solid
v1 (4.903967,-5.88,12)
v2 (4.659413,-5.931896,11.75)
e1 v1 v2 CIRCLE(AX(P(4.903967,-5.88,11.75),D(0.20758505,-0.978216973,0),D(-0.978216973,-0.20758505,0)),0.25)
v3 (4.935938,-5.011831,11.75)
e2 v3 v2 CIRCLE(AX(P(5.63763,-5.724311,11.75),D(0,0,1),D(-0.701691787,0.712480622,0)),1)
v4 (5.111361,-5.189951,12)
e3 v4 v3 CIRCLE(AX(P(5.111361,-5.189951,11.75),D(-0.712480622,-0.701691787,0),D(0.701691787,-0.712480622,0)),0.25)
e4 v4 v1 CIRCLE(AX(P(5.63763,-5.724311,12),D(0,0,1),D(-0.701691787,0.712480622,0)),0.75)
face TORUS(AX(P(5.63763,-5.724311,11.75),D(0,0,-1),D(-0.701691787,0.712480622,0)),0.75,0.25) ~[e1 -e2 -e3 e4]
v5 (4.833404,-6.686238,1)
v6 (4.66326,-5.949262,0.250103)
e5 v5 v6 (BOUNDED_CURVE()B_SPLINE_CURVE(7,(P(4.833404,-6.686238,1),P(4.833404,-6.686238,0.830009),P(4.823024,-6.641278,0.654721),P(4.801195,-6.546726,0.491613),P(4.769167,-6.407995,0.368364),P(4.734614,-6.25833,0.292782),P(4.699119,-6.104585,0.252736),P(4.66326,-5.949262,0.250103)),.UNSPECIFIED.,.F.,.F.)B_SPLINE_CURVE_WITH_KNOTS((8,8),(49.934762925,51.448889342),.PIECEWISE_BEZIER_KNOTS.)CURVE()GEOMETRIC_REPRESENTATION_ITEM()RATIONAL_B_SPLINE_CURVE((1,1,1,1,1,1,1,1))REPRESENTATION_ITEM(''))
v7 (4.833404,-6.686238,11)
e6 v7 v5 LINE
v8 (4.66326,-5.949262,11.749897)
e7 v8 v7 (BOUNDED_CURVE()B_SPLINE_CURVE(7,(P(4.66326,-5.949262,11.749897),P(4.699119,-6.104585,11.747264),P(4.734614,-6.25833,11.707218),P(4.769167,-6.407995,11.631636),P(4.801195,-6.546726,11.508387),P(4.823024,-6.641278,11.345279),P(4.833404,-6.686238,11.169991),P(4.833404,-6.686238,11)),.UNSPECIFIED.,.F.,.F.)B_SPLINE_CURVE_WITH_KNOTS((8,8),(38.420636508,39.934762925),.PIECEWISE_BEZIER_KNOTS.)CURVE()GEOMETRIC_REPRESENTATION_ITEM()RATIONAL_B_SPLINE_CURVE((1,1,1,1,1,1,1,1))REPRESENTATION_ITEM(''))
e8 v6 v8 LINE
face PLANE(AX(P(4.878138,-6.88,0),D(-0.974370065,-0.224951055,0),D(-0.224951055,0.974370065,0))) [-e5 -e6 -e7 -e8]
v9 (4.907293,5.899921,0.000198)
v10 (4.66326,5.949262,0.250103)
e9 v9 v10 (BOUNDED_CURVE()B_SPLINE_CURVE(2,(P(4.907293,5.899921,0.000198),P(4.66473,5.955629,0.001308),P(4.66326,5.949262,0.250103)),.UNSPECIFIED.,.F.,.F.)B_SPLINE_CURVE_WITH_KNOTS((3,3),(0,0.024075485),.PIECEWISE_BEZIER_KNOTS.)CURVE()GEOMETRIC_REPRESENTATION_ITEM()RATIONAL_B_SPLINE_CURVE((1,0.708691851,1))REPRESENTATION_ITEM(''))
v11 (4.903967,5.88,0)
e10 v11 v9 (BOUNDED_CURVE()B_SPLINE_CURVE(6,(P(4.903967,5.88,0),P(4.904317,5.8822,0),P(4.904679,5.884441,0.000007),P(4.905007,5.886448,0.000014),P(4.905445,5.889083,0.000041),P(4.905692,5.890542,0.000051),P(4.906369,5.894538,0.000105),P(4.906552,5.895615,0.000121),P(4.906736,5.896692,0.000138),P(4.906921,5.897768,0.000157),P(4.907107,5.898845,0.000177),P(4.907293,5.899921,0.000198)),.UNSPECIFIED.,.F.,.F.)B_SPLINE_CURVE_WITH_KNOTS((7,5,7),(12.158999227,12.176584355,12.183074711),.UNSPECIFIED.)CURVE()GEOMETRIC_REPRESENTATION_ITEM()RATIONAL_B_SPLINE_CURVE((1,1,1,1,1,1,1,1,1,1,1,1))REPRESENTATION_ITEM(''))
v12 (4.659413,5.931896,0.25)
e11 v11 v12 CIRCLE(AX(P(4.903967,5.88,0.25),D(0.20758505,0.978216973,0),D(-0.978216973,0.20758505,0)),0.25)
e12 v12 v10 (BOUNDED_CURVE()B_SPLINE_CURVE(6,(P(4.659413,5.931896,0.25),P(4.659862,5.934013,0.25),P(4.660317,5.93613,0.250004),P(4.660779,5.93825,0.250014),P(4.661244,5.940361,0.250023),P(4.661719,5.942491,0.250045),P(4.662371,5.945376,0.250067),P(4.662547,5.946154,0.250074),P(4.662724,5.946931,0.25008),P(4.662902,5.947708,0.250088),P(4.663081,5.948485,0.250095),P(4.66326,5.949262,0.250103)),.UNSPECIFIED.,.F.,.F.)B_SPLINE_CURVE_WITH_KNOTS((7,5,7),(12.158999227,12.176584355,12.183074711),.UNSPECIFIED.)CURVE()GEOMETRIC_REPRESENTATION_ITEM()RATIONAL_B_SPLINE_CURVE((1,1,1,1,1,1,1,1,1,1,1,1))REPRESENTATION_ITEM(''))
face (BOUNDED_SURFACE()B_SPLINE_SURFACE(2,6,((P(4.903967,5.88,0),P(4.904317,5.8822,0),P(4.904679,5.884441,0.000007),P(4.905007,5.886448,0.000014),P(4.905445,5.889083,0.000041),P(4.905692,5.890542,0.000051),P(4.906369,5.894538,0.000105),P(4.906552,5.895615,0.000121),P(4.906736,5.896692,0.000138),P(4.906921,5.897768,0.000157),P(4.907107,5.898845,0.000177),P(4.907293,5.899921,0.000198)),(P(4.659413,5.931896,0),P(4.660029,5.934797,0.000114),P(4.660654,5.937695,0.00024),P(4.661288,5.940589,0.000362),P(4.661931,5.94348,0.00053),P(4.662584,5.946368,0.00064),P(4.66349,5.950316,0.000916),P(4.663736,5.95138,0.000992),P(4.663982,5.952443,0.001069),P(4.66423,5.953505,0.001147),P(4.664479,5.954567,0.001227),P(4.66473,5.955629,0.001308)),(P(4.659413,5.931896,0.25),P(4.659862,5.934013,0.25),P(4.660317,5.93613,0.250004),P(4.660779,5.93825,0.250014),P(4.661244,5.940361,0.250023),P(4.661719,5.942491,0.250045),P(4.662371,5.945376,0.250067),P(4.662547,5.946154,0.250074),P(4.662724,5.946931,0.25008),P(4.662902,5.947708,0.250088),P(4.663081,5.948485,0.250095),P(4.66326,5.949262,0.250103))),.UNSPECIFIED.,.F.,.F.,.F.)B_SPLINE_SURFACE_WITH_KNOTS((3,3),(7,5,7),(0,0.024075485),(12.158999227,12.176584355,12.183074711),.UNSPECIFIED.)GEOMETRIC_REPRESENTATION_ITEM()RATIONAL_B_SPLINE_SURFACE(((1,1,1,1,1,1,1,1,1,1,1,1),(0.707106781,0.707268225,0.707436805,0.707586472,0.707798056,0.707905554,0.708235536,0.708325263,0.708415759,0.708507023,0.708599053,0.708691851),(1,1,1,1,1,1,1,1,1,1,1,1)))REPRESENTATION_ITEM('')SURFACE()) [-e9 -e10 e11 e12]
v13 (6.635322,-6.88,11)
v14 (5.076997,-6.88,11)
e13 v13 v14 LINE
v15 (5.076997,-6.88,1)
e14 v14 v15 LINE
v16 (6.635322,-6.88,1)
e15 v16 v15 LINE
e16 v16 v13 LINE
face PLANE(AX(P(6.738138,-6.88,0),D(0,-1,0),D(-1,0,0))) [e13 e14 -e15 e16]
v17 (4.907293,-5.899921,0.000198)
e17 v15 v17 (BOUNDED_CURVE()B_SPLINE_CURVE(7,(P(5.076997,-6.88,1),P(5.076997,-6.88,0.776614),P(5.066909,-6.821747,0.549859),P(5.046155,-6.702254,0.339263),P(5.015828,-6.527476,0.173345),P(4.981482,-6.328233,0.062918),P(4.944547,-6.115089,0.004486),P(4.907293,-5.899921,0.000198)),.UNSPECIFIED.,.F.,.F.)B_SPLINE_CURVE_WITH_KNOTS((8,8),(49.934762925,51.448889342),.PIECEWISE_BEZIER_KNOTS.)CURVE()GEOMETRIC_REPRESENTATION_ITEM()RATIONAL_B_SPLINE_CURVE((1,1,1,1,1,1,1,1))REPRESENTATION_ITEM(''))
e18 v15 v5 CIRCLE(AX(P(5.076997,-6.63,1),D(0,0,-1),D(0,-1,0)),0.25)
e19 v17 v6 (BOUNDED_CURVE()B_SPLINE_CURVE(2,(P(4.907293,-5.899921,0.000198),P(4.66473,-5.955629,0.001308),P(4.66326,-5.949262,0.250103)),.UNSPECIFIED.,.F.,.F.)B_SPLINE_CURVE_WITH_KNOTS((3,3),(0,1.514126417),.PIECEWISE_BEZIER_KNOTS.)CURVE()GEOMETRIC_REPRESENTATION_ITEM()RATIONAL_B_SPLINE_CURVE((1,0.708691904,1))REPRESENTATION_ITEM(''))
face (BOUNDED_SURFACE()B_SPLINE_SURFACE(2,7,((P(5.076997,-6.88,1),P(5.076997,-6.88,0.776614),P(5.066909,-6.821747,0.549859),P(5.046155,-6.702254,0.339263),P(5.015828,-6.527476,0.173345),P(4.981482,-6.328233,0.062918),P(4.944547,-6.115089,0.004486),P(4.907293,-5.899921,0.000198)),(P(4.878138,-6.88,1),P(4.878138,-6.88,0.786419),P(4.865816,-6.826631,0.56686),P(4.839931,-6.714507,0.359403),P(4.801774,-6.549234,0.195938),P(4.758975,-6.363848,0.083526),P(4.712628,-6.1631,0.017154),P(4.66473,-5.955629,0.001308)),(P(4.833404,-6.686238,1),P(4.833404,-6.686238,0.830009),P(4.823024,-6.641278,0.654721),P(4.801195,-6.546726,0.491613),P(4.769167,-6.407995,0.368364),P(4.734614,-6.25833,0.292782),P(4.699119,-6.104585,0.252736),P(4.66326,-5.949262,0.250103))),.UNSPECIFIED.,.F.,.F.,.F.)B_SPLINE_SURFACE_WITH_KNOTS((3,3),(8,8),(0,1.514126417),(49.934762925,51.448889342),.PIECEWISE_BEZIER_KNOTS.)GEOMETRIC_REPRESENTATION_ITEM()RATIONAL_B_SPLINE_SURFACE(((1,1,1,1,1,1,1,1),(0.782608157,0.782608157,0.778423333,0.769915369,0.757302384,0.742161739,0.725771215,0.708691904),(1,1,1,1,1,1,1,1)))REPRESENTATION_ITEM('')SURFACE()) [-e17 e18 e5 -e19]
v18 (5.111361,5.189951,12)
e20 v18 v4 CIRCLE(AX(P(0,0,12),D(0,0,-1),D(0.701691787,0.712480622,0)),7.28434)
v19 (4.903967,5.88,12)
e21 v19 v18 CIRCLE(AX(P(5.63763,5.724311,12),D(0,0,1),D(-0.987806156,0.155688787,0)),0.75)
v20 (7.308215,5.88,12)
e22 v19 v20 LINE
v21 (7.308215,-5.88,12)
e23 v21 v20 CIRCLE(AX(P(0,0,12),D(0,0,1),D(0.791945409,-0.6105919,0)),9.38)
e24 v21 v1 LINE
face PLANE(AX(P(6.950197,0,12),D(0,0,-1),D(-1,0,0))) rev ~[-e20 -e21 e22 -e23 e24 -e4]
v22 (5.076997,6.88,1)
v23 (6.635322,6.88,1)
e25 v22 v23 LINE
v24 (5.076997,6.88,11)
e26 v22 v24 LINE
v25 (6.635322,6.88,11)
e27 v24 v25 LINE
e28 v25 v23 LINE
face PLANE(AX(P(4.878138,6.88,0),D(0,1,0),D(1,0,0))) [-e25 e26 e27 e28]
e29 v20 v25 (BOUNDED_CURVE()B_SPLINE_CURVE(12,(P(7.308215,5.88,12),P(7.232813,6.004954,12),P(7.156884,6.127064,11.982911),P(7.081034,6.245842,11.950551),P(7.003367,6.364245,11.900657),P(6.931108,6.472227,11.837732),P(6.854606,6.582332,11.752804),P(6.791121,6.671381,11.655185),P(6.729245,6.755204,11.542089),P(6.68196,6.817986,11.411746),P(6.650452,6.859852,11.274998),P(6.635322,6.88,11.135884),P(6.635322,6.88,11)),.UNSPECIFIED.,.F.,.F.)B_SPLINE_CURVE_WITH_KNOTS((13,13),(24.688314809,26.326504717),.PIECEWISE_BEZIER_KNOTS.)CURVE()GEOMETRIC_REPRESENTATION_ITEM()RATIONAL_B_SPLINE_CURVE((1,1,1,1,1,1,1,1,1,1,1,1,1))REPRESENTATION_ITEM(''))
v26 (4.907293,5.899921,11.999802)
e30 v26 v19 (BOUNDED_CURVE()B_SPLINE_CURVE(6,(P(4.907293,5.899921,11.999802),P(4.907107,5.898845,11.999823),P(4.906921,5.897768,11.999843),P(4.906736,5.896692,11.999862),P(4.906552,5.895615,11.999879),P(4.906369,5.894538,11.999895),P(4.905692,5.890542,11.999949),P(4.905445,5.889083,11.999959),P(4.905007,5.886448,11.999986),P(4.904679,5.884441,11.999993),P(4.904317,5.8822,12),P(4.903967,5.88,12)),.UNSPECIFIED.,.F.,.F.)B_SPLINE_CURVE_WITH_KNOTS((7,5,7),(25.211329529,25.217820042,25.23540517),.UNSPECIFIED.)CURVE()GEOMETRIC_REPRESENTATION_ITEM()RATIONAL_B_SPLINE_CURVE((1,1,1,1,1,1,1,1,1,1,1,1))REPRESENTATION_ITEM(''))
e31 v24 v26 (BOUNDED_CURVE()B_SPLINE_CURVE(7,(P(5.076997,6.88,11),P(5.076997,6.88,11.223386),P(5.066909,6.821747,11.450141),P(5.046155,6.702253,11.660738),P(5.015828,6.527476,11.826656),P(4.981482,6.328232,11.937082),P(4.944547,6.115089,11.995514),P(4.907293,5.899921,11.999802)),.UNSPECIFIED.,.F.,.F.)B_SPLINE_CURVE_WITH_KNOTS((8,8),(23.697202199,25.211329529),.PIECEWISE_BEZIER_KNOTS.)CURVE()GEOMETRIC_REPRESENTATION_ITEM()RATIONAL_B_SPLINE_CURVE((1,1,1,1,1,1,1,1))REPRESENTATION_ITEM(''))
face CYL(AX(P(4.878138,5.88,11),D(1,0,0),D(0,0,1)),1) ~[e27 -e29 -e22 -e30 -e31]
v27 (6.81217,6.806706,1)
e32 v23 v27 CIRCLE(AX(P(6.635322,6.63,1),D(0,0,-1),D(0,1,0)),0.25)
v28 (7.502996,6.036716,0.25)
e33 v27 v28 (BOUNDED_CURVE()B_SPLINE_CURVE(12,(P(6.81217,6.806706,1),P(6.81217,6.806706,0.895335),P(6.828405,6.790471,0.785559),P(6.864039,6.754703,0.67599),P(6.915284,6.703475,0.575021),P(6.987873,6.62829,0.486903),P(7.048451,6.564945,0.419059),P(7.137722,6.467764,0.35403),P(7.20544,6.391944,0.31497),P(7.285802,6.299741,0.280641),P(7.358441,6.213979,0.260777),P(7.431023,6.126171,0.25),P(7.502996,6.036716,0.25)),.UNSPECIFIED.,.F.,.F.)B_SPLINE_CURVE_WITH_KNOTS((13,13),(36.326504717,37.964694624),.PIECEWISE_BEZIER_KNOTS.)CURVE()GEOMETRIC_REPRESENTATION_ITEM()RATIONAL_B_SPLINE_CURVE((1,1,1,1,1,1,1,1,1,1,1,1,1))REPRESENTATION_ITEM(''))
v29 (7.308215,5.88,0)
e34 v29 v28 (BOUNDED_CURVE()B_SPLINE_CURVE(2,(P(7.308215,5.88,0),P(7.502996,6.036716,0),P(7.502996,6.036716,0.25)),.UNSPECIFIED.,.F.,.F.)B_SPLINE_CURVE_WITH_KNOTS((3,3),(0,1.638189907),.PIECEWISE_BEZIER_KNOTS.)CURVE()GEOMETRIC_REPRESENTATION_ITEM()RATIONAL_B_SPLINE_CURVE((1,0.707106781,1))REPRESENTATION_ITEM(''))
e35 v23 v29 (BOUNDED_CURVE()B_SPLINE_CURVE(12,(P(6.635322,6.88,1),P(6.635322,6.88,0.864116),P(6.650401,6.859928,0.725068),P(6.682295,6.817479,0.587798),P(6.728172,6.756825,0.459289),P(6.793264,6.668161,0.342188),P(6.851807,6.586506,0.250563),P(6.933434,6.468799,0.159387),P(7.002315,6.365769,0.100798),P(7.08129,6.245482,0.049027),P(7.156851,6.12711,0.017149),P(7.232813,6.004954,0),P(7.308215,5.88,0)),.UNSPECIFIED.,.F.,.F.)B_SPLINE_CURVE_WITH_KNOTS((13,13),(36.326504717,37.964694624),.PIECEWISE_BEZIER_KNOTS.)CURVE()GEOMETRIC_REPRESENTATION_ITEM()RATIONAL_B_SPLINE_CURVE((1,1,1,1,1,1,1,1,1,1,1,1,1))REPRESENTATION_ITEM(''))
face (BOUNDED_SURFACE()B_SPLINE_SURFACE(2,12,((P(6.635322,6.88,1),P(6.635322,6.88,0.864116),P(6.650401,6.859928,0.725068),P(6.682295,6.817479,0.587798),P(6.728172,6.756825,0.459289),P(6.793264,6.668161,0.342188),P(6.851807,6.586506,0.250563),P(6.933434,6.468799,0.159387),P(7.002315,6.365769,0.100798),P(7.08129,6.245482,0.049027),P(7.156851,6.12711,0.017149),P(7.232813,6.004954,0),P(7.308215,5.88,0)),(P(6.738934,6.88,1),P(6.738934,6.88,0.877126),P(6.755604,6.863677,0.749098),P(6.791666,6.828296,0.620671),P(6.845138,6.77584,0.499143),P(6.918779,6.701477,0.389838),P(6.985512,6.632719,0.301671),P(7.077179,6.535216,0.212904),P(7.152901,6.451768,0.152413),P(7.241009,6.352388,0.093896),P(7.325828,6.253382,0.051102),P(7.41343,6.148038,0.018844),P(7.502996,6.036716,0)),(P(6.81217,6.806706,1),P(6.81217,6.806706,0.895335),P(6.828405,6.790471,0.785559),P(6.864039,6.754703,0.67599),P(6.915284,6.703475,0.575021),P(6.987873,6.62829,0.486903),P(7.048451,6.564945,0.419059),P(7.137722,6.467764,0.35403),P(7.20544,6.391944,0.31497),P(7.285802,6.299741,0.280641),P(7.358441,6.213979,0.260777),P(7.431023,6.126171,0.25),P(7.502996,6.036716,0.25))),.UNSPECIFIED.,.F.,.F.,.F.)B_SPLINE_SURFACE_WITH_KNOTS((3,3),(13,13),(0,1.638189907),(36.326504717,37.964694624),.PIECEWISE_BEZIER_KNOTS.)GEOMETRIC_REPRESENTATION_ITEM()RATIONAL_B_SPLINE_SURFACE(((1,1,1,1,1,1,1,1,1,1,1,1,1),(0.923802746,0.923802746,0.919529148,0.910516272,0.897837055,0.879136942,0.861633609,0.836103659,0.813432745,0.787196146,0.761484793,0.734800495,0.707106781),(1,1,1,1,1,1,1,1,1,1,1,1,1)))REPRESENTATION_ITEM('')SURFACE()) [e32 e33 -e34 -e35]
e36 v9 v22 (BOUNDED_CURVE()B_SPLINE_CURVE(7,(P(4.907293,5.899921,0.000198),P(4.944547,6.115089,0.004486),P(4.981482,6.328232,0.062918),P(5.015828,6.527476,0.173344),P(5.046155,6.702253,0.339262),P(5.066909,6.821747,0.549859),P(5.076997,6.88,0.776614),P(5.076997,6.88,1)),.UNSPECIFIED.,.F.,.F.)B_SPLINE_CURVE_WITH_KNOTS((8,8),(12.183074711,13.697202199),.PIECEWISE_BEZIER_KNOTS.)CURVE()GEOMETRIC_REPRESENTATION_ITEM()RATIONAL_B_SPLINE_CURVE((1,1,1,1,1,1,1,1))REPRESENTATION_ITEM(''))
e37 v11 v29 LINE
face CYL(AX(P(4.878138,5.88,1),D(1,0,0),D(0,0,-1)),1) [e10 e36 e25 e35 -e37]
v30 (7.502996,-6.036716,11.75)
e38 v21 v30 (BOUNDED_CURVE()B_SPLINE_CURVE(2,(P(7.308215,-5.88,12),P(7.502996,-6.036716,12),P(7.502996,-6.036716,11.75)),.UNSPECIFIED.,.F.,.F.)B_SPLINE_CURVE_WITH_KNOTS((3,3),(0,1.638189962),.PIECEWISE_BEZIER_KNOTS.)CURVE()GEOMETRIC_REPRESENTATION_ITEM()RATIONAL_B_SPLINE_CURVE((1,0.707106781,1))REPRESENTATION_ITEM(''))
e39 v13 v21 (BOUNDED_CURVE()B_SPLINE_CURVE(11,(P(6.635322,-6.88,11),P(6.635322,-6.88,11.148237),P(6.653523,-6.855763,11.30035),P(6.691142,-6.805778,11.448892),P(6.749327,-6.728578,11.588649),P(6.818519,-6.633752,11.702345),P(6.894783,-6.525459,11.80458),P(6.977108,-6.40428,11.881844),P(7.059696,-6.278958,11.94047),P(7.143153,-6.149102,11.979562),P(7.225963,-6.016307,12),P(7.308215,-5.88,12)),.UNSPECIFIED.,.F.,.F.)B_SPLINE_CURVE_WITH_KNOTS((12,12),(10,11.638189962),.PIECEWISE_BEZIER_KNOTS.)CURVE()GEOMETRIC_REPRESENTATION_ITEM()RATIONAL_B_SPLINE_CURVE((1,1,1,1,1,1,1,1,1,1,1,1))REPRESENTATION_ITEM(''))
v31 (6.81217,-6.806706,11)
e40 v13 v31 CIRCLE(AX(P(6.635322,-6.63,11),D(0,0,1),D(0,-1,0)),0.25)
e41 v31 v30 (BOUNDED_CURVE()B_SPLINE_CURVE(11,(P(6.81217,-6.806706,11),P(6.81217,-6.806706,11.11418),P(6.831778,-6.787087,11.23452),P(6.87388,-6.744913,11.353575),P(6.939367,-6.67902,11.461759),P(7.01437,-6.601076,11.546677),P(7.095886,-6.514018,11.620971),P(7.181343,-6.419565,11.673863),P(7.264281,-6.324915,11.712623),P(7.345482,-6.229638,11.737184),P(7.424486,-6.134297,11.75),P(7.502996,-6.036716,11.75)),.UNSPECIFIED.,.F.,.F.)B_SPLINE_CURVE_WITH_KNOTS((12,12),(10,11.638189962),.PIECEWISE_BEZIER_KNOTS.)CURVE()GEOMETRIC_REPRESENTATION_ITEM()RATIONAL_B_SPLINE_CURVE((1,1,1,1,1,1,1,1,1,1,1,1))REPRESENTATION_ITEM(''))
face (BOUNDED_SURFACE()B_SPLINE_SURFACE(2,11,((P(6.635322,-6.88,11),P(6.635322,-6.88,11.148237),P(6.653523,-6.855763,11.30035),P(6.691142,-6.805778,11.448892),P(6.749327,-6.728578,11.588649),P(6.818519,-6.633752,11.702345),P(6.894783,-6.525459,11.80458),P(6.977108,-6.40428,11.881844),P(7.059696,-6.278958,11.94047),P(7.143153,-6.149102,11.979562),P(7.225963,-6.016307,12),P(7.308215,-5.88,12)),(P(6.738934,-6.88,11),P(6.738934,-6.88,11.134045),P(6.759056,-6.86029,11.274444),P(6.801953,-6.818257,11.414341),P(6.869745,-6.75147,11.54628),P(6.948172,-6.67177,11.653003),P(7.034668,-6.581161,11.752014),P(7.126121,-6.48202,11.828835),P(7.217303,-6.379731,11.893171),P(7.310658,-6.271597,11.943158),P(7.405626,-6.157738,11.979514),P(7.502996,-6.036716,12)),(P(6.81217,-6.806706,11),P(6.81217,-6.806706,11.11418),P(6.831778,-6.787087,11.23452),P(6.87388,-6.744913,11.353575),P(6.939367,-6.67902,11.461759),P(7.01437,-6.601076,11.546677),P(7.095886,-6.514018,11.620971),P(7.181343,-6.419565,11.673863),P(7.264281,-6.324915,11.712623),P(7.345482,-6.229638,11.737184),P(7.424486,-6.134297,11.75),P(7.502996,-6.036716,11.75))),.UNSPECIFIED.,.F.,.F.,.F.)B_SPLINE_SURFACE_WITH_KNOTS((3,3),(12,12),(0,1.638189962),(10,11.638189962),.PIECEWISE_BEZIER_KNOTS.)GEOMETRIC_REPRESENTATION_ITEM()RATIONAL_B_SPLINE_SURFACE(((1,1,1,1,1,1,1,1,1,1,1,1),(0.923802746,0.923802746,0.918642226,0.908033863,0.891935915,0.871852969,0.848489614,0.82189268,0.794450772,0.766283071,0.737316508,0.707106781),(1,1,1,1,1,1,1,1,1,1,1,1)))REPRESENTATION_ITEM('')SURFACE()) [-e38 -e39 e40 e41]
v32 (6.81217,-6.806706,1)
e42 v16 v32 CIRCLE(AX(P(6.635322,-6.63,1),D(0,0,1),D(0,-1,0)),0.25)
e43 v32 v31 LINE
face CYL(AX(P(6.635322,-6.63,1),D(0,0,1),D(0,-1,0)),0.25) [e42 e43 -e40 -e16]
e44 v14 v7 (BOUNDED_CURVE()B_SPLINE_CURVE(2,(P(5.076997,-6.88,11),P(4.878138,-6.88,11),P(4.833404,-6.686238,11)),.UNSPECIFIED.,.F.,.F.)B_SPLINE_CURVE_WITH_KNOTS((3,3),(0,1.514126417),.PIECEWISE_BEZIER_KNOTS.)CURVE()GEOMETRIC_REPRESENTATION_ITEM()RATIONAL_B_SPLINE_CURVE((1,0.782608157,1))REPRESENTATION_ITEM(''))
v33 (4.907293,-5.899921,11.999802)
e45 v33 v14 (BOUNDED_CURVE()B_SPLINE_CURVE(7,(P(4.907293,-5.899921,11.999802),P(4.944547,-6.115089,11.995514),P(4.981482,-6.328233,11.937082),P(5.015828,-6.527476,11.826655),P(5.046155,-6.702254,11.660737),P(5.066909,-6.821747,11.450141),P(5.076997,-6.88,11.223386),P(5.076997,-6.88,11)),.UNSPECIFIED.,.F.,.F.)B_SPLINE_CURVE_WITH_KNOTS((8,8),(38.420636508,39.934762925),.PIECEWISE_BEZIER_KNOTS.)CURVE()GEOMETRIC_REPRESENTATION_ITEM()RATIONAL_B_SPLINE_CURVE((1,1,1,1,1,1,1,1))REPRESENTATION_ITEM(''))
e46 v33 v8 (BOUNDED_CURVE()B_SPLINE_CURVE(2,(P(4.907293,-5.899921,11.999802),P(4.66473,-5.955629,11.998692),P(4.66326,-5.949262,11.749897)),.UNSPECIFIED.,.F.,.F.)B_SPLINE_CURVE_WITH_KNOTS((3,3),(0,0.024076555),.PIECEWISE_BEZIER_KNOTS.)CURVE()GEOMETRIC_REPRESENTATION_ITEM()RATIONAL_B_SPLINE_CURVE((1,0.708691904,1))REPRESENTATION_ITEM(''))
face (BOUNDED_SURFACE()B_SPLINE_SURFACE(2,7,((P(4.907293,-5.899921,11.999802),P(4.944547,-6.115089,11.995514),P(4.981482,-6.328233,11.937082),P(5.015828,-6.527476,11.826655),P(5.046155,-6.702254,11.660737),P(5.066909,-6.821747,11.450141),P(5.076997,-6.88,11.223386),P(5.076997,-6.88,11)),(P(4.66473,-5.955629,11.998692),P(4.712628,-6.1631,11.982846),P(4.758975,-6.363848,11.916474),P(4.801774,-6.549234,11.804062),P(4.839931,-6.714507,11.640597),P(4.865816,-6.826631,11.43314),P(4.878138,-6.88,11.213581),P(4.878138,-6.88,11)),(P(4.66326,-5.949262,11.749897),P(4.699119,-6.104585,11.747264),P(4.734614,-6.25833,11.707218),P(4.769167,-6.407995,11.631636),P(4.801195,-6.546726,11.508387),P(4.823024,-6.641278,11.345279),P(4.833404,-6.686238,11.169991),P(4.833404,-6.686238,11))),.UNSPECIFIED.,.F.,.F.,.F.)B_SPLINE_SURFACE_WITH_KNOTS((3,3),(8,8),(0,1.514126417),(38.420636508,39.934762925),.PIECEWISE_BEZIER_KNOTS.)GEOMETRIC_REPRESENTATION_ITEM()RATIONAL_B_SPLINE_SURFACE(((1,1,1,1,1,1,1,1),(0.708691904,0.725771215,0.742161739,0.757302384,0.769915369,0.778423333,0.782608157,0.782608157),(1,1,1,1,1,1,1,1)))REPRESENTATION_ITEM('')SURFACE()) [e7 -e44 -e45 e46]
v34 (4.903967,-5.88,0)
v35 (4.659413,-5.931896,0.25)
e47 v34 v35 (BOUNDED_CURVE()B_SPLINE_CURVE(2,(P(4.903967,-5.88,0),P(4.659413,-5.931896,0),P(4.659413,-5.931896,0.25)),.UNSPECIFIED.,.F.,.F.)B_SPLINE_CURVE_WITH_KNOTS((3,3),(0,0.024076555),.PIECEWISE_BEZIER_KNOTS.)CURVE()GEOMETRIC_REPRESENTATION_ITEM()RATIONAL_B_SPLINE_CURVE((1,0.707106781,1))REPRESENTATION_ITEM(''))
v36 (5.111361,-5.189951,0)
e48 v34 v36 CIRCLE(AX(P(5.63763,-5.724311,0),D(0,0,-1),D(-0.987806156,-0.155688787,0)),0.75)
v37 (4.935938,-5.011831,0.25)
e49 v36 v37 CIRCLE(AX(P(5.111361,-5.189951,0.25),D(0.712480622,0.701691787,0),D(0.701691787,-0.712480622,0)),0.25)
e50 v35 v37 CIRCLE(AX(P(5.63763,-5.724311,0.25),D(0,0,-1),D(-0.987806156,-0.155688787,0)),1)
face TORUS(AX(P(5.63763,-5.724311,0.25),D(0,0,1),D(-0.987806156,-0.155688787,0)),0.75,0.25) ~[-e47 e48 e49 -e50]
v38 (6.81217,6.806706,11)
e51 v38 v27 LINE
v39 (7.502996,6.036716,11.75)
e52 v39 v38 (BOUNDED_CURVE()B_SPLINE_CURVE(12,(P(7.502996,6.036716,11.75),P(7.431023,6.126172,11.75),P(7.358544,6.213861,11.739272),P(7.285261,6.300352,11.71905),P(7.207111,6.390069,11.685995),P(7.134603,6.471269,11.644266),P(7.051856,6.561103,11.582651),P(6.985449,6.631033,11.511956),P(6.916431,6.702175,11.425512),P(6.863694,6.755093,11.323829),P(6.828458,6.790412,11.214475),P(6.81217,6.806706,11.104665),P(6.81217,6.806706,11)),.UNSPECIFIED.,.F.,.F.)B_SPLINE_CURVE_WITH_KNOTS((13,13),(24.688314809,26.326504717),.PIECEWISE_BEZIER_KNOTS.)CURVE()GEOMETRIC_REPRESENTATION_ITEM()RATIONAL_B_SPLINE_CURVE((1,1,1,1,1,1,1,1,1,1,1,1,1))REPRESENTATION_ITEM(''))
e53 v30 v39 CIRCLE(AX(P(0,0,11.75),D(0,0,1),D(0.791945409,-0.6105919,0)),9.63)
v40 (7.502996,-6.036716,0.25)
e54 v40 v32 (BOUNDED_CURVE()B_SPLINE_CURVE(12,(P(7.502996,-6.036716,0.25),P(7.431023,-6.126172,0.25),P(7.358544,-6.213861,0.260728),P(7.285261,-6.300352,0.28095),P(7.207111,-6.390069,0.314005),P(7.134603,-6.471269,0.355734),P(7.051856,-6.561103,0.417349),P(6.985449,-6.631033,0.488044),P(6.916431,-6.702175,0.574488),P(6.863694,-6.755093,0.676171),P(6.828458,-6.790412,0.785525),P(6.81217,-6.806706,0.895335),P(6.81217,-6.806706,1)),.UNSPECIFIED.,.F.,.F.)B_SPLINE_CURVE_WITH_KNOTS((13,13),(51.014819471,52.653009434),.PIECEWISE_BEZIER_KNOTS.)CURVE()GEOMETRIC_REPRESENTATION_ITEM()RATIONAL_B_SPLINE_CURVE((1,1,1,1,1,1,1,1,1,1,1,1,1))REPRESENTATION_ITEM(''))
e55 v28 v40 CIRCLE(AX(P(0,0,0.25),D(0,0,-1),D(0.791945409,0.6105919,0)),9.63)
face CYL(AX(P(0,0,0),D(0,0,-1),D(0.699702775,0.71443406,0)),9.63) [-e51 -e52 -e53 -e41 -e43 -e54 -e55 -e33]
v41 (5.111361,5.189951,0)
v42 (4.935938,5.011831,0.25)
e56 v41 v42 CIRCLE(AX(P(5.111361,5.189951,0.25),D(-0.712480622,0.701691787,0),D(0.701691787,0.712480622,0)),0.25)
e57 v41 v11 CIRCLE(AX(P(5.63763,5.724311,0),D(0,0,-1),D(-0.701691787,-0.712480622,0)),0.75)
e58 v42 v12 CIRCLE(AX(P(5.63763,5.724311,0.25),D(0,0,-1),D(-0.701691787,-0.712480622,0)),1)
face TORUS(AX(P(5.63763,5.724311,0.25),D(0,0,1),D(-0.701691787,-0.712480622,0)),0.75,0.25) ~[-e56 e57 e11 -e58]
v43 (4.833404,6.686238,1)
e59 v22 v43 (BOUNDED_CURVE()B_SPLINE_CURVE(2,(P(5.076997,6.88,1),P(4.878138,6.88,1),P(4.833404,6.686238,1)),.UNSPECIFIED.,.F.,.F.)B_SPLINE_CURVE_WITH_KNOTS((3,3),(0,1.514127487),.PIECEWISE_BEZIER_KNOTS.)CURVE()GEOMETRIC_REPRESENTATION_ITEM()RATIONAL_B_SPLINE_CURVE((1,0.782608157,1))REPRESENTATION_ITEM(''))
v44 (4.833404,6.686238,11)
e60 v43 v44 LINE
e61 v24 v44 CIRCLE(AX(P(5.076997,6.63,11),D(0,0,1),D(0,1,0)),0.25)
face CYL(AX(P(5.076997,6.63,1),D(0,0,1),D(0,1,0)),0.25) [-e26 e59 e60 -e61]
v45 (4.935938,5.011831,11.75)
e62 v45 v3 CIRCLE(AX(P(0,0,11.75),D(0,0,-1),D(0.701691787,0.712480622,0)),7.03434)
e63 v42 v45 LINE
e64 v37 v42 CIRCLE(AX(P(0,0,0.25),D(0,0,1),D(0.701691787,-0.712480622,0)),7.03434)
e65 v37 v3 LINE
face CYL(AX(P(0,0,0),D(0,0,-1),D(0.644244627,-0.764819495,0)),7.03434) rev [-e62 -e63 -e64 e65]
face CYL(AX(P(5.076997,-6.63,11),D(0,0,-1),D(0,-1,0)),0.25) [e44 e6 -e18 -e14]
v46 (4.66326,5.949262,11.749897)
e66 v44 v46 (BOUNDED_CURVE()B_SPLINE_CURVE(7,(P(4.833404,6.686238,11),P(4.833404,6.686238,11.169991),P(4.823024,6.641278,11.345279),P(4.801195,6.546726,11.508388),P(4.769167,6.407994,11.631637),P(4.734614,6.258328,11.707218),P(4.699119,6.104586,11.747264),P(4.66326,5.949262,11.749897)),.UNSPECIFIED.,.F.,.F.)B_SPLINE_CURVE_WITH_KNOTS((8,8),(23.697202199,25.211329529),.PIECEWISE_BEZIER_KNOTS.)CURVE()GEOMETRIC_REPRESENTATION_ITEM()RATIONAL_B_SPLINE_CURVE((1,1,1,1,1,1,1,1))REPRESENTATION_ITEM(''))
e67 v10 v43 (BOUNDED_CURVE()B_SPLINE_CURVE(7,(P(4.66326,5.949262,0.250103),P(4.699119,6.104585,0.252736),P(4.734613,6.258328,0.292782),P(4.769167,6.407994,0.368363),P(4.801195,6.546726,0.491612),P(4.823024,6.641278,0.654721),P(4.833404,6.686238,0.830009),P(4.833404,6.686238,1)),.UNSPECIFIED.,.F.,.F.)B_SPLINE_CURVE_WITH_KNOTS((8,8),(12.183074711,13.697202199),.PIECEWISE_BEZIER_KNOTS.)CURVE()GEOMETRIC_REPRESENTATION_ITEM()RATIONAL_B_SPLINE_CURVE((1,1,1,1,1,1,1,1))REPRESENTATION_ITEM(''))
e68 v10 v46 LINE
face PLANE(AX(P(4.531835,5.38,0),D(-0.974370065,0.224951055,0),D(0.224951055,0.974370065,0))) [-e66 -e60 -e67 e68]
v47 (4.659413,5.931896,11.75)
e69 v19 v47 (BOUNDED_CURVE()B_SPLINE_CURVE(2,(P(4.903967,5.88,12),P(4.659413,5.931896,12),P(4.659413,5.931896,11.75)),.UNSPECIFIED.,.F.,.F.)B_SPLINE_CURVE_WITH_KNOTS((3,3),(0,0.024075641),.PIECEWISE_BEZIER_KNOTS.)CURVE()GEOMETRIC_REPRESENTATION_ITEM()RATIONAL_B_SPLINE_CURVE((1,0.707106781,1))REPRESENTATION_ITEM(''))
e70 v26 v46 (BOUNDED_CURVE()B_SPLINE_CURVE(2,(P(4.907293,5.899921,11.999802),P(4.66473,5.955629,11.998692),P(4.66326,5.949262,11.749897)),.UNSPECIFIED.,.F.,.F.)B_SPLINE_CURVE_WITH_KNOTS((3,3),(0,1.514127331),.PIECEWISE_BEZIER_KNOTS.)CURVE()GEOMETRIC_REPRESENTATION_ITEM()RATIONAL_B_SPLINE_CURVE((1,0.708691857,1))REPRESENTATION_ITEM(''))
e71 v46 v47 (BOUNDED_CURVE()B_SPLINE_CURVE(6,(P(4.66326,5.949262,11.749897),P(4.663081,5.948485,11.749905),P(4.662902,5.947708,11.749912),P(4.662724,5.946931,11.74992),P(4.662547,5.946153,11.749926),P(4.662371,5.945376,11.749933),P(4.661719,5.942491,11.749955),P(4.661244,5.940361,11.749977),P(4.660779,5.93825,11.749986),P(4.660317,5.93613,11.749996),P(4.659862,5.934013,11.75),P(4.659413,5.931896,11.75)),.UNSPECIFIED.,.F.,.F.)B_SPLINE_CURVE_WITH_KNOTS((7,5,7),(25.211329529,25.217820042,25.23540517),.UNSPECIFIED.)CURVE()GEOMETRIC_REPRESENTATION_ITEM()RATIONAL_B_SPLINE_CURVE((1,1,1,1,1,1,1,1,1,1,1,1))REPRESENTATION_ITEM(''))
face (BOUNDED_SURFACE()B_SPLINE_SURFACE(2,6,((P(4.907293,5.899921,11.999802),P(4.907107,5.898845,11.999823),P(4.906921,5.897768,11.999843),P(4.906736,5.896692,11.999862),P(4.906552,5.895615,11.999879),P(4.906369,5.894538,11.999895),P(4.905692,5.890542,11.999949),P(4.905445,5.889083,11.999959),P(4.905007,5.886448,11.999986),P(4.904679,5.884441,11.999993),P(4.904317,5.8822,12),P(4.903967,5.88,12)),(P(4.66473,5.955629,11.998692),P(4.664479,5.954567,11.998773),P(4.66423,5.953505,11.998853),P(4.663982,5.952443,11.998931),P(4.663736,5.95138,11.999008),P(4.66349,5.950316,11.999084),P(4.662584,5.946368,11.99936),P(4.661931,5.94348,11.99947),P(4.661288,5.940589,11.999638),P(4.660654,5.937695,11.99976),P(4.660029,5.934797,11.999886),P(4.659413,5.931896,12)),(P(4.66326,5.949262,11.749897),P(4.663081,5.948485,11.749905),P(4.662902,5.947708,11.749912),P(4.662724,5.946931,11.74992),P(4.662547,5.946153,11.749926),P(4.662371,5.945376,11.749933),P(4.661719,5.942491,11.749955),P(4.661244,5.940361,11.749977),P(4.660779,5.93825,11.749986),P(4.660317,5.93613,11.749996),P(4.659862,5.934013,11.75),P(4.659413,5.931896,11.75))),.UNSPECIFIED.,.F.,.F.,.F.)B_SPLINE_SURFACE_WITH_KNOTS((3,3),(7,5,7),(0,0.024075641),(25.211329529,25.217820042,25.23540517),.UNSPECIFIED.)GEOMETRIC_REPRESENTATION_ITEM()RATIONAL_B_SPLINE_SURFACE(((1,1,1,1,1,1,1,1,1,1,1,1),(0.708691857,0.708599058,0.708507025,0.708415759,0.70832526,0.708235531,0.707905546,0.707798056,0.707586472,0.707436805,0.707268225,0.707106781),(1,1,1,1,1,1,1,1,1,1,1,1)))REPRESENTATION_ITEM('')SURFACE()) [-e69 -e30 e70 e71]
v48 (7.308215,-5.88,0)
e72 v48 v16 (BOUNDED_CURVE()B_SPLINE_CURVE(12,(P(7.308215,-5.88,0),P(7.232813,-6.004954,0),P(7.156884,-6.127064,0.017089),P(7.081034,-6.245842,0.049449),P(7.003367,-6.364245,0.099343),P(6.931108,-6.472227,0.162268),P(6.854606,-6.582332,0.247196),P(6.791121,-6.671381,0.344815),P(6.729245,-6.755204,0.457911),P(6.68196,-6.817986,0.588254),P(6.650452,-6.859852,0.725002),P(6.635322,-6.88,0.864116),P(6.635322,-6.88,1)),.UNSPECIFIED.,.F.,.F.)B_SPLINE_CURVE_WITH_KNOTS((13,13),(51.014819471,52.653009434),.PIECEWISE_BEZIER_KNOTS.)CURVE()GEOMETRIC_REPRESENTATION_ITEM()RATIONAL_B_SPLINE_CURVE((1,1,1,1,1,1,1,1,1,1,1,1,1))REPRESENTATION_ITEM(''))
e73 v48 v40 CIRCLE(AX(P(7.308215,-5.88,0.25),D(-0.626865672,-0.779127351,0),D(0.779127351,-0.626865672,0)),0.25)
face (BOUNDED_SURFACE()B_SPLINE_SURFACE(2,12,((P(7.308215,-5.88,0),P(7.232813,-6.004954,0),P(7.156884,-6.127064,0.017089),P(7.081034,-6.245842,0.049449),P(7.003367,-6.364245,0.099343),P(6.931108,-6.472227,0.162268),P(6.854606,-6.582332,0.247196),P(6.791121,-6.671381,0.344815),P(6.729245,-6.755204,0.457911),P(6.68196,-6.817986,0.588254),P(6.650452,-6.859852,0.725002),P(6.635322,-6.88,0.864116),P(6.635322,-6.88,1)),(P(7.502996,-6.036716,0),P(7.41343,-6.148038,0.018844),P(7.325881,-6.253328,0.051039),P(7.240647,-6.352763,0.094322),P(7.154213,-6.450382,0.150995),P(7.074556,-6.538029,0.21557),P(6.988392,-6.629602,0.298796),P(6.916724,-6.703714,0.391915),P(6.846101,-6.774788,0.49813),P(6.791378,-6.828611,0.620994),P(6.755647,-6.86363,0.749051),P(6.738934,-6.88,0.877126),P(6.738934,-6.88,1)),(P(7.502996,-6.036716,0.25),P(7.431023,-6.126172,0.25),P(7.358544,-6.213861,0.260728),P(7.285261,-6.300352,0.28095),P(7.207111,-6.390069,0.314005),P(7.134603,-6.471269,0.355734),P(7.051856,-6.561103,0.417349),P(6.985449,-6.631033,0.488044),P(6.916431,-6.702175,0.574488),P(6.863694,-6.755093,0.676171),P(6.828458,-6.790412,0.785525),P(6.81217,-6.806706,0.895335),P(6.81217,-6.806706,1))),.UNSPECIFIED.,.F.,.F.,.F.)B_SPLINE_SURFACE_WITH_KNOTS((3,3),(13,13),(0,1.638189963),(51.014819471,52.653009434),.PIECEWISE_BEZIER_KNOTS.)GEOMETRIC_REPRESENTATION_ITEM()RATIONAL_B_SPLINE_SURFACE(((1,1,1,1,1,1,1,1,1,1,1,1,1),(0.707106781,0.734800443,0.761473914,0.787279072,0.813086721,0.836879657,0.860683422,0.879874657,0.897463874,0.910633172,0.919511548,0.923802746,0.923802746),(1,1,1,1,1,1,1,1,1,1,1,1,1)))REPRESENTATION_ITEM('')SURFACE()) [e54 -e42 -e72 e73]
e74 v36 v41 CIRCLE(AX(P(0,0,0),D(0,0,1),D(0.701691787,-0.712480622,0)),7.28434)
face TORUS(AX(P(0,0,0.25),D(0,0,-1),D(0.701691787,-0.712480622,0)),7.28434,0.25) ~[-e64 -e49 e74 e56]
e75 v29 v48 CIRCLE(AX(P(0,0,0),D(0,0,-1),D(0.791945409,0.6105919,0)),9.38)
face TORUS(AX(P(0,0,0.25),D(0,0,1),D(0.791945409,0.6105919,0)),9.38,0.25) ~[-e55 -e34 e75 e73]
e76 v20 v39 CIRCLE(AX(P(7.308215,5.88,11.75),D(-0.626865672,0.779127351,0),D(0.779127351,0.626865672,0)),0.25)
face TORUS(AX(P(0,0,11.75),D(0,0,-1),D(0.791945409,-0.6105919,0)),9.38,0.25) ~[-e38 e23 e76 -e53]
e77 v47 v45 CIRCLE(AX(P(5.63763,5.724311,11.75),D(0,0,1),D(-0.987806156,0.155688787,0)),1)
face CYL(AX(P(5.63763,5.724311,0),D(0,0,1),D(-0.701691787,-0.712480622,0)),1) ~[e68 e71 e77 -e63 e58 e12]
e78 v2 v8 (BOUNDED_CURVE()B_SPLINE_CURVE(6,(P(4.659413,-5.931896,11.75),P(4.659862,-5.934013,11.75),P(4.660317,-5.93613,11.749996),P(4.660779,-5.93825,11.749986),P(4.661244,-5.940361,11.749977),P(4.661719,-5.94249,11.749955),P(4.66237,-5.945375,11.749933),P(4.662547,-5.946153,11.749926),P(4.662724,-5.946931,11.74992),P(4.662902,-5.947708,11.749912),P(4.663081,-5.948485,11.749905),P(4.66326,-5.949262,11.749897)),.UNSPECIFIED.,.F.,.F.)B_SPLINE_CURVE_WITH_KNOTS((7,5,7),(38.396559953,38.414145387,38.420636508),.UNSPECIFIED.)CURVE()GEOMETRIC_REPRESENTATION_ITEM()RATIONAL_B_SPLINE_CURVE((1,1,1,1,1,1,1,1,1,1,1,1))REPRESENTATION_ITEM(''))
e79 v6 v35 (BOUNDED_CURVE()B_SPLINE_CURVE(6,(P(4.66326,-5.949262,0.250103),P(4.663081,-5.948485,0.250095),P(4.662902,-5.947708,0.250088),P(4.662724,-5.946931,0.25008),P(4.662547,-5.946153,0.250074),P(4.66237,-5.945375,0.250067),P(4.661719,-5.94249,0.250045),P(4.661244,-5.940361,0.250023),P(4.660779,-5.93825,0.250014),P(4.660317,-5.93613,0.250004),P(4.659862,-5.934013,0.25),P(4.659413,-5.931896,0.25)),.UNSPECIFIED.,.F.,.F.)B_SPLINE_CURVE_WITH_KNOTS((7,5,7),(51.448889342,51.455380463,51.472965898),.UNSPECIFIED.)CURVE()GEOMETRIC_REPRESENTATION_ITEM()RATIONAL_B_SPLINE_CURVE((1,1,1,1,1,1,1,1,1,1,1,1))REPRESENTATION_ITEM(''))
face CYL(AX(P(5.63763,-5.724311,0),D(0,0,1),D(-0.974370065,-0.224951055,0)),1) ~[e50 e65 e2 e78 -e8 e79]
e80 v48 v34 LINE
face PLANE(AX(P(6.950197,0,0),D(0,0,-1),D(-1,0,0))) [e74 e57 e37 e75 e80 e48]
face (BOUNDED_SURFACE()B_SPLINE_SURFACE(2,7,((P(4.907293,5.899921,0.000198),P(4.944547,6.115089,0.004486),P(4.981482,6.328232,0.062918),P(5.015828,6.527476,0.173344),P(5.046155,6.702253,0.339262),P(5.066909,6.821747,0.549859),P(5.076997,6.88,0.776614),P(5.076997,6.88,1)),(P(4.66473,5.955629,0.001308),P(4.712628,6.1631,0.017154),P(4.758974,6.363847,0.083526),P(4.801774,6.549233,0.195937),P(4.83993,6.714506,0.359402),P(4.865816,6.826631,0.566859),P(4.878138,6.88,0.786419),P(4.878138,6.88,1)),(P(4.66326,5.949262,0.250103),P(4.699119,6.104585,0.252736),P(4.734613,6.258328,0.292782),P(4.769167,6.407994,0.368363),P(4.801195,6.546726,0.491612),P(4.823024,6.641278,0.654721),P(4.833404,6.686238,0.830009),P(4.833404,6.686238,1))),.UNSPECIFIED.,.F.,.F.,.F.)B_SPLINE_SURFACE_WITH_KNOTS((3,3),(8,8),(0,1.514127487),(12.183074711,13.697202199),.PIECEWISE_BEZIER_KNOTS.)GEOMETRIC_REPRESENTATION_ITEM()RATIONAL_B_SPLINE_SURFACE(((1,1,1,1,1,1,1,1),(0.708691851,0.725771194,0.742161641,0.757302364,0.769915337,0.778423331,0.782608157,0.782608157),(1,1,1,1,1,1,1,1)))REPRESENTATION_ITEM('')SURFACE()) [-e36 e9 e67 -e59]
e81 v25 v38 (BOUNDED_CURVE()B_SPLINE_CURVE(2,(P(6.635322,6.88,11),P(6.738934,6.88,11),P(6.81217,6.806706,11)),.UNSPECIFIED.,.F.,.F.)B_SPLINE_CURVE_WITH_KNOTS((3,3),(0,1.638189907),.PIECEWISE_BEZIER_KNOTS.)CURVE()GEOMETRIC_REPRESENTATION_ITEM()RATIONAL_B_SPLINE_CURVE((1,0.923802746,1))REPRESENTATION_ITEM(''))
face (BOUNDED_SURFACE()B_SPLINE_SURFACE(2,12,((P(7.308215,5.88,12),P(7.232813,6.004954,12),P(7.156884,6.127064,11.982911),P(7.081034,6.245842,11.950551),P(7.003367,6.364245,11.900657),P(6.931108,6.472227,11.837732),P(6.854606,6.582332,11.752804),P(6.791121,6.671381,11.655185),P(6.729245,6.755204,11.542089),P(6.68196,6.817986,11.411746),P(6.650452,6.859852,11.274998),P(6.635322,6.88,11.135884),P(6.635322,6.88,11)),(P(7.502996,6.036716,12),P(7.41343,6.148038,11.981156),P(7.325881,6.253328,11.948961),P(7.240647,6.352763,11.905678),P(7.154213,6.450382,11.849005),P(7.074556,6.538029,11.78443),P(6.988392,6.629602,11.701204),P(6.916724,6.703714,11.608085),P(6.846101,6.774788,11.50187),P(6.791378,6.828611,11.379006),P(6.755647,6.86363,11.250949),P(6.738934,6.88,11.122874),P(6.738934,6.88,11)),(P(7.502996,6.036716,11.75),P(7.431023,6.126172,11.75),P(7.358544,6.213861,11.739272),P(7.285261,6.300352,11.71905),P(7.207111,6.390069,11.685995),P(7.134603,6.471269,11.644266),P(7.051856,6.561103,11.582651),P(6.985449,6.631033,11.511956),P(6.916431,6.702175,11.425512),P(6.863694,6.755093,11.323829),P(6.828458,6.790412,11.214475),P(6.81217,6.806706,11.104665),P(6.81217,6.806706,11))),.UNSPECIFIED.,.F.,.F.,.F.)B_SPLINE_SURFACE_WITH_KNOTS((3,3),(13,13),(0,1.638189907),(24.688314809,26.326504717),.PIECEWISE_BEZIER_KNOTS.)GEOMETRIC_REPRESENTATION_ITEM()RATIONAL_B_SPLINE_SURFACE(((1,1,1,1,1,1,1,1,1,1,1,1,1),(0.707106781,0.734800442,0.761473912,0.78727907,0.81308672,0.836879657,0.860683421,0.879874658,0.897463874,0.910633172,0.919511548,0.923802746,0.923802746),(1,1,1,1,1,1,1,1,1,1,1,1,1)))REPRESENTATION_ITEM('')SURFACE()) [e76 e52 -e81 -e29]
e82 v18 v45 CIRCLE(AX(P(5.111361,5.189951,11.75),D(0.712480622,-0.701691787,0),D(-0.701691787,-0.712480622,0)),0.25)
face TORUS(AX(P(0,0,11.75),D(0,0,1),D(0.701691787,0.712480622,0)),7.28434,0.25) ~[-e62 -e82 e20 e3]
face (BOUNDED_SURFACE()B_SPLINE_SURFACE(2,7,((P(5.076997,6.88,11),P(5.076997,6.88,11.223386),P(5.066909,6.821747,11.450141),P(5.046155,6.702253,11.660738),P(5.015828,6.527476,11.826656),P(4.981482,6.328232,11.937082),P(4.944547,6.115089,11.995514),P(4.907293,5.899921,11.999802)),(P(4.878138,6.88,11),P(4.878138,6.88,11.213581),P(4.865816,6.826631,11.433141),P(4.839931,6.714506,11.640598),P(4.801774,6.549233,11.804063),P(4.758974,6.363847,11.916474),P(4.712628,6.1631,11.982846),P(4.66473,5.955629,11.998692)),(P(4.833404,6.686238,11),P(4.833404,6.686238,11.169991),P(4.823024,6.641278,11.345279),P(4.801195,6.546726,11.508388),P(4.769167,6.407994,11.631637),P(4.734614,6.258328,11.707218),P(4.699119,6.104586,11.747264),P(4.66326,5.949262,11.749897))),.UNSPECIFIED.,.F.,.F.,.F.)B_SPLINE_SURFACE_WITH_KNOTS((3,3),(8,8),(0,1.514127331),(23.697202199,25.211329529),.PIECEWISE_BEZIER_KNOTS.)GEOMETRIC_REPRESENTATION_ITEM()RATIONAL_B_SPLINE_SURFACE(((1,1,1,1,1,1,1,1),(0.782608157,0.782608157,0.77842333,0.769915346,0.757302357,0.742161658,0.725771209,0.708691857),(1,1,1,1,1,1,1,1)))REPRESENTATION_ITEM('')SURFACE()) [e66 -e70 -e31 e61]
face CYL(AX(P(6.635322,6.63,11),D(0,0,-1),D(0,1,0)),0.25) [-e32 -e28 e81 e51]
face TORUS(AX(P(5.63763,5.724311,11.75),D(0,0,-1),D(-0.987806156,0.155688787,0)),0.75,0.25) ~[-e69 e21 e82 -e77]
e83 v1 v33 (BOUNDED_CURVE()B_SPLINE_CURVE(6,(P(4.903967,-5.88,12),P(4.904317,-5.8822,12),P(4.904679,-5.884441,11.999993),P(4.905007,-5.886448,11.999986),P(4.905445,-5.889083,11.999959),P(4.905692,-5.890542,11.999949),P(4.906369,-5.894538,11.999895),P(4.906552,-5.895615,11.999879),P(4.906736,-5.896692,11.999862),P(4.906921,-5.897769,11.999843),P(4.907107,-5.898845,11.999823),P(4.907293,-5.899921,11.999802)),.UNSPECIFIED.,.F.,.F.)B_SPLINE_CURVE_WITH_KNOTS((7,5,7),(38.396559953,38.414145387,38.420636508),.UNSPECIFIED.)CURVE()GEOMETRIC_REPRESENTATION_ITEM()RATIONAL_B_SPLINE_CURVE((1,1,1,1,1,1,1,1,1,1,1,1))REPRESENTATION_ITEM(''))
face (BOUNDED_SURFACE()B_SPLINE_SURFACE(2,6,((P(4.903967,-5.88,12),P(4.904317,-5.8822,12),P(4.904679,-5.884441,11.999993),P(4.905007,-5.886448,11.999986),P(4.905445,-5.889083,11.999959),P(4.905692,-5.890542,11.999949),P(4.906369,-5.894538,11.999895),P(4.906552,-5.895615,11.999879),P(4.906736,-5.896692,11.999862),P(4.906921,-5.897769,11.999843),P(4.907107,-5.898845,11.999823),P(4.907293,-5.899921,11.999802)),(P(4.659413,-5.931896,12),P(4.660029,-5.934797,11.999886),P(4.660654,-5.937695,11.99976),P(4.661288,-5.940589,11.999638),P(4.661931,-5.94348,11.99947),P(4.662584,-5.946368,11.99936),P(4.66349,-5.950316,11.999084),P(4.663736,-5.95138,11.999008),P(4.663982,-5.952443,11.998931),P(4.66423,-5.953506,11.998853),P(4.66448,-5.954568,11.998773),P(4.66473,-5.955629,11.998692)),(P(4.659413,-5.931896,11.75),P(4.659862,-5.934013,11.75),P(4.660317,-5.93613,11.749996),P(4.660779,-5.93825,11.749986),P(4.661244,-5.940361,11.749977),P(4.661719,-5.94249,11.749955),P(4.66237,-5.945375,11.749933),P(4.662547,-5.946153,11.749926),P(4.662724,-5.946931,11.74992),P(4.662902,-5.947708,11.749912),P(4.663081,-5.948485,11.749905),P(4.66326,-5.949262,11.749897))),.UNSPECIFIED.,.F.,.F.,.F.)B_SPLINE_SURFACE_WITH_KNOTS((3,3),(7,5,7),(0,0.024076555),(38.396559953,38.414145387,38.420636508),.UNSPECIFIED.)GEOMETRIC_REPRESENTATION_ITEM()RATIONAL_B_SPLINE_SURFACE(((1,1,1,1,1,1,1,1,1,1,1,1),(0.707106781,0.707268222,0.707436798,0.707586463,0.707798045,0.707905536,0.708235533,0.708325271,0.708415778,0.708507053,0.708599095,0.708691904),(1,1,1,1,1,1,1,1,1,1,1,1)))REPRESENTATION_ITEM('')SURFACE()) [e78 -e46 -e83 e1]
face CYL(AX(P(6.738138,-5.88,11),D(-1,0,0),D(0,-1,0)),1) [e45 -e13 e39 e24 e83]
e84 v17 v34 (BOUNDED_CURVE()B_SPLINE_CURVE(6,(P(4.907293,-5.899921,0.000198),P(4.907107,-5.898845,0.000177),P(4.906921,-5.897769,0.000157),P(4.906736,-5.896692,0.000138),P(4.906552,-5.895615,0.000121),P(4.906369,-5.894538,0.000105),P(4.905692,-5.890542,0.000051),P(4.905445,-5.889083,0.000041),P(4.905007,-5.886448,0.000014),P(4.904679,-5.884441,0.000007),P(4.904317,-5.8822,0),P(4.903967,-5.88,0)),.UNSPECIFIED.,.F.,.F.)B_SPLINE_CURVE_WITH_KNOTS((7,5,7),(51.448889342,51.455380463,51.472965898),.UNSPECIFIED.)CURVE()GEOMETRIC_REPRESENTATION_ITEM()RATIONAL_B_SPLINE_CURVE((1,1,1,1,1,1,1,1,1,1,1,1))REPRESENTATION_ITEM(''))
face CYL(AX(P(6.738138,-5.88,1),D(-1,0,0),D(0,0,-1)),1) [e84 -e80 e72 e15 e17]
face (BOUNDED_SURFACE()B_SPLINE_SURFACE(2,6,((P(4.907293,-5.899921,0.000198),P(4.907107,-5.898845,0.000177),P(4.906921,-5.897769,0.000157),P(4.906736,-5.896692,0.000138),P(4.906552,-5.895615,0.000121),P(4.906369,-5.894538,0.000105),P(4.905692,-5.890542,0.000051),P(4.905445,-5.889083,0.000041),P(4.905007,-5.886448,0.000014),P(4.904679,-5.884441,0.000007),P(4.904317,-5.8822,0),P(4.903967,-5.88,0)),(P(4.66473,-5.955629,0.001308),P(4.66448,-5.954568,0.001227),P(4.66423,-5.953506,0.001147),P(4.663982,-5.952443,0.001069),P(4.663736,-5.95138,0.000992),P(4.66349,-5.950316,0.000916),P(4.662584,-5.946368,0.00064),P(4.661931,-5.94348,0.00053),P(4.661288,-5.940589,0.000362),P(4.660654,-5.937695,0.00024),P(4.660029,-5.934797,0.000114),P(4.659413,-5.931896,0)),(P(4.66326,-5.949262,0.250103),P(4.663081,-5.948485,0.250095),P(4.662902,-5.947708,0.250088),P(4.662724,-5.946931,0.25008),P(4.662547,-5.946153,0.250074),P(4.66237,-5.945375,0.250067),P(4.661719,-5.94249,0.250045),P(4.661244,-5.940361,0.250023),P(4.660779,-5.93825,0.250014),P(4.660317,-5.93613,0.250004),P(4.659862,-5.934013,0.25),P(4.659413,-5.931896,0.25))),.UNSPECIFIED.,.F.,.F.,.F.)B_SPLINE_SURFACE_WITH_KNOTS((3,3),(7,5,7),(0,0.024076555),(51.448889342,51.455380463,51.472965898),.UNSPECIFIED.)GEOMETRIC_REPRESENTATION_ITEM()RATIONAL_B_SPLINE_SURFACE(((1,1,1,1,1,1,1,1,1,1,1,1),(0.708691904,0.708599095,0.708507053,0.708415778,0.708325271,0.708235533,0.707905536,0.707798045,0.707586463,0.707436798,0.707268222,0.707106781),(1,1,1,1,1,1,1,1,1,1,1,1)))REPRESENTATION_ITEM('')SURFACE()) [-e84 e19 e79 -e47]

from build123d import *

# Parameters (mm, degrees)
BOSS_EXTRUDE1_DEPTH = 12
FILLET1_R           = 1
FILLET2_R           = 1
FILLET3_R           = 0.25


with BuildPart() as part:
    # Sketch1 → Boss-Extrude1 (new body)
    with BuildSketch(Plane.XY):
        with BuildLine():
            Line((6.738137725, -6.88), (4.878137725, -6.88))
            Line((4.878137725, -6.88), (4.531835438, -5.38))
            ThreePointArc((4.531835438, -5.38), (7.034339517, 0), (4.531835438, 5.38))
            Line((4.531835438, 5.38), (4.878137725, 6.88))
            Line((4.878137725, 6.88), (6.738137725, 6.88))
            ThreePointArc((6.738137725, 6.88), (9.63, 0), (6.738137725, -6.88))
        make_face()
    extrude(amount=BOSS_EXTRUDE1_DEPTH)

    # Fillet1
    fillet1_edges = [part.edges().sort_by_distance(p)[0] for p in [
        (4.531835438, -5.38, 6),
        (4.531835438, 5.38, 6),
    ]]
    fillet(fillet1_edges, radius=FILLET1_R)

    # Fillet2
    fillet2_edges = [part.edges().sort_by_distance(p)[0] for p in [
        (5.808137725, -6.88, 0),
        (5.808137725, -6.88, 12),
        (5.808137725, 6.88, 12),
        (5.808137725, 6.88, 0),
    ]]
    fillet(fillet2_edges, radius=FILLET2_R)

    # Fillet3
    fillet3_edges = [part.edges().sort_by_distance(p)[0] for p in [
        (7.034339517, 0, 0),
        (7.034339517, 0, 12),
        (4.687877266, 5.411310183, 0),
        (4.687877266, -5.411310183, 12),
        (6.738137725, -6.88, 6),
        (4.878137725, -6.88, 6),
        (9.63, 0, 0),
        (6.738137725, 6.88, 6),
        (9.63, 0, 12),
        (7.064336577, 6.544619807, 0.2528183),
        (7.064336577, 6.544619807, 11.7471817),
        (7.064336589, -6.544619821, 11.747181705),
        (7.064336577, -6.544619807, 0.2528183),
        (4.687877266, -5.411310183, 0),
        (4.655934772, -5.914769545, 11.999395357),
        (4.655934772, -5.914769545, 0.000604643),
        (4.815123489, -6.607055355, 11.686578845),
        (4.815123489, -6.607055355, 0.313421155),
        (4.687877266, 5.411310183, 12),
        (4.655934776, 5.914769544, 0.00060465),
        (4.655934776, 5.914769544, 11.99939535),
        (4.878137725, 6.88, 6),
        (4.815123489, 6.607055355, 0.313421155),
        (4.815123489, 6.607055355, 11.686578845),
    ]]
    fillet(fillet3_edges, radius=FILLET3_R)


solid = part.part
